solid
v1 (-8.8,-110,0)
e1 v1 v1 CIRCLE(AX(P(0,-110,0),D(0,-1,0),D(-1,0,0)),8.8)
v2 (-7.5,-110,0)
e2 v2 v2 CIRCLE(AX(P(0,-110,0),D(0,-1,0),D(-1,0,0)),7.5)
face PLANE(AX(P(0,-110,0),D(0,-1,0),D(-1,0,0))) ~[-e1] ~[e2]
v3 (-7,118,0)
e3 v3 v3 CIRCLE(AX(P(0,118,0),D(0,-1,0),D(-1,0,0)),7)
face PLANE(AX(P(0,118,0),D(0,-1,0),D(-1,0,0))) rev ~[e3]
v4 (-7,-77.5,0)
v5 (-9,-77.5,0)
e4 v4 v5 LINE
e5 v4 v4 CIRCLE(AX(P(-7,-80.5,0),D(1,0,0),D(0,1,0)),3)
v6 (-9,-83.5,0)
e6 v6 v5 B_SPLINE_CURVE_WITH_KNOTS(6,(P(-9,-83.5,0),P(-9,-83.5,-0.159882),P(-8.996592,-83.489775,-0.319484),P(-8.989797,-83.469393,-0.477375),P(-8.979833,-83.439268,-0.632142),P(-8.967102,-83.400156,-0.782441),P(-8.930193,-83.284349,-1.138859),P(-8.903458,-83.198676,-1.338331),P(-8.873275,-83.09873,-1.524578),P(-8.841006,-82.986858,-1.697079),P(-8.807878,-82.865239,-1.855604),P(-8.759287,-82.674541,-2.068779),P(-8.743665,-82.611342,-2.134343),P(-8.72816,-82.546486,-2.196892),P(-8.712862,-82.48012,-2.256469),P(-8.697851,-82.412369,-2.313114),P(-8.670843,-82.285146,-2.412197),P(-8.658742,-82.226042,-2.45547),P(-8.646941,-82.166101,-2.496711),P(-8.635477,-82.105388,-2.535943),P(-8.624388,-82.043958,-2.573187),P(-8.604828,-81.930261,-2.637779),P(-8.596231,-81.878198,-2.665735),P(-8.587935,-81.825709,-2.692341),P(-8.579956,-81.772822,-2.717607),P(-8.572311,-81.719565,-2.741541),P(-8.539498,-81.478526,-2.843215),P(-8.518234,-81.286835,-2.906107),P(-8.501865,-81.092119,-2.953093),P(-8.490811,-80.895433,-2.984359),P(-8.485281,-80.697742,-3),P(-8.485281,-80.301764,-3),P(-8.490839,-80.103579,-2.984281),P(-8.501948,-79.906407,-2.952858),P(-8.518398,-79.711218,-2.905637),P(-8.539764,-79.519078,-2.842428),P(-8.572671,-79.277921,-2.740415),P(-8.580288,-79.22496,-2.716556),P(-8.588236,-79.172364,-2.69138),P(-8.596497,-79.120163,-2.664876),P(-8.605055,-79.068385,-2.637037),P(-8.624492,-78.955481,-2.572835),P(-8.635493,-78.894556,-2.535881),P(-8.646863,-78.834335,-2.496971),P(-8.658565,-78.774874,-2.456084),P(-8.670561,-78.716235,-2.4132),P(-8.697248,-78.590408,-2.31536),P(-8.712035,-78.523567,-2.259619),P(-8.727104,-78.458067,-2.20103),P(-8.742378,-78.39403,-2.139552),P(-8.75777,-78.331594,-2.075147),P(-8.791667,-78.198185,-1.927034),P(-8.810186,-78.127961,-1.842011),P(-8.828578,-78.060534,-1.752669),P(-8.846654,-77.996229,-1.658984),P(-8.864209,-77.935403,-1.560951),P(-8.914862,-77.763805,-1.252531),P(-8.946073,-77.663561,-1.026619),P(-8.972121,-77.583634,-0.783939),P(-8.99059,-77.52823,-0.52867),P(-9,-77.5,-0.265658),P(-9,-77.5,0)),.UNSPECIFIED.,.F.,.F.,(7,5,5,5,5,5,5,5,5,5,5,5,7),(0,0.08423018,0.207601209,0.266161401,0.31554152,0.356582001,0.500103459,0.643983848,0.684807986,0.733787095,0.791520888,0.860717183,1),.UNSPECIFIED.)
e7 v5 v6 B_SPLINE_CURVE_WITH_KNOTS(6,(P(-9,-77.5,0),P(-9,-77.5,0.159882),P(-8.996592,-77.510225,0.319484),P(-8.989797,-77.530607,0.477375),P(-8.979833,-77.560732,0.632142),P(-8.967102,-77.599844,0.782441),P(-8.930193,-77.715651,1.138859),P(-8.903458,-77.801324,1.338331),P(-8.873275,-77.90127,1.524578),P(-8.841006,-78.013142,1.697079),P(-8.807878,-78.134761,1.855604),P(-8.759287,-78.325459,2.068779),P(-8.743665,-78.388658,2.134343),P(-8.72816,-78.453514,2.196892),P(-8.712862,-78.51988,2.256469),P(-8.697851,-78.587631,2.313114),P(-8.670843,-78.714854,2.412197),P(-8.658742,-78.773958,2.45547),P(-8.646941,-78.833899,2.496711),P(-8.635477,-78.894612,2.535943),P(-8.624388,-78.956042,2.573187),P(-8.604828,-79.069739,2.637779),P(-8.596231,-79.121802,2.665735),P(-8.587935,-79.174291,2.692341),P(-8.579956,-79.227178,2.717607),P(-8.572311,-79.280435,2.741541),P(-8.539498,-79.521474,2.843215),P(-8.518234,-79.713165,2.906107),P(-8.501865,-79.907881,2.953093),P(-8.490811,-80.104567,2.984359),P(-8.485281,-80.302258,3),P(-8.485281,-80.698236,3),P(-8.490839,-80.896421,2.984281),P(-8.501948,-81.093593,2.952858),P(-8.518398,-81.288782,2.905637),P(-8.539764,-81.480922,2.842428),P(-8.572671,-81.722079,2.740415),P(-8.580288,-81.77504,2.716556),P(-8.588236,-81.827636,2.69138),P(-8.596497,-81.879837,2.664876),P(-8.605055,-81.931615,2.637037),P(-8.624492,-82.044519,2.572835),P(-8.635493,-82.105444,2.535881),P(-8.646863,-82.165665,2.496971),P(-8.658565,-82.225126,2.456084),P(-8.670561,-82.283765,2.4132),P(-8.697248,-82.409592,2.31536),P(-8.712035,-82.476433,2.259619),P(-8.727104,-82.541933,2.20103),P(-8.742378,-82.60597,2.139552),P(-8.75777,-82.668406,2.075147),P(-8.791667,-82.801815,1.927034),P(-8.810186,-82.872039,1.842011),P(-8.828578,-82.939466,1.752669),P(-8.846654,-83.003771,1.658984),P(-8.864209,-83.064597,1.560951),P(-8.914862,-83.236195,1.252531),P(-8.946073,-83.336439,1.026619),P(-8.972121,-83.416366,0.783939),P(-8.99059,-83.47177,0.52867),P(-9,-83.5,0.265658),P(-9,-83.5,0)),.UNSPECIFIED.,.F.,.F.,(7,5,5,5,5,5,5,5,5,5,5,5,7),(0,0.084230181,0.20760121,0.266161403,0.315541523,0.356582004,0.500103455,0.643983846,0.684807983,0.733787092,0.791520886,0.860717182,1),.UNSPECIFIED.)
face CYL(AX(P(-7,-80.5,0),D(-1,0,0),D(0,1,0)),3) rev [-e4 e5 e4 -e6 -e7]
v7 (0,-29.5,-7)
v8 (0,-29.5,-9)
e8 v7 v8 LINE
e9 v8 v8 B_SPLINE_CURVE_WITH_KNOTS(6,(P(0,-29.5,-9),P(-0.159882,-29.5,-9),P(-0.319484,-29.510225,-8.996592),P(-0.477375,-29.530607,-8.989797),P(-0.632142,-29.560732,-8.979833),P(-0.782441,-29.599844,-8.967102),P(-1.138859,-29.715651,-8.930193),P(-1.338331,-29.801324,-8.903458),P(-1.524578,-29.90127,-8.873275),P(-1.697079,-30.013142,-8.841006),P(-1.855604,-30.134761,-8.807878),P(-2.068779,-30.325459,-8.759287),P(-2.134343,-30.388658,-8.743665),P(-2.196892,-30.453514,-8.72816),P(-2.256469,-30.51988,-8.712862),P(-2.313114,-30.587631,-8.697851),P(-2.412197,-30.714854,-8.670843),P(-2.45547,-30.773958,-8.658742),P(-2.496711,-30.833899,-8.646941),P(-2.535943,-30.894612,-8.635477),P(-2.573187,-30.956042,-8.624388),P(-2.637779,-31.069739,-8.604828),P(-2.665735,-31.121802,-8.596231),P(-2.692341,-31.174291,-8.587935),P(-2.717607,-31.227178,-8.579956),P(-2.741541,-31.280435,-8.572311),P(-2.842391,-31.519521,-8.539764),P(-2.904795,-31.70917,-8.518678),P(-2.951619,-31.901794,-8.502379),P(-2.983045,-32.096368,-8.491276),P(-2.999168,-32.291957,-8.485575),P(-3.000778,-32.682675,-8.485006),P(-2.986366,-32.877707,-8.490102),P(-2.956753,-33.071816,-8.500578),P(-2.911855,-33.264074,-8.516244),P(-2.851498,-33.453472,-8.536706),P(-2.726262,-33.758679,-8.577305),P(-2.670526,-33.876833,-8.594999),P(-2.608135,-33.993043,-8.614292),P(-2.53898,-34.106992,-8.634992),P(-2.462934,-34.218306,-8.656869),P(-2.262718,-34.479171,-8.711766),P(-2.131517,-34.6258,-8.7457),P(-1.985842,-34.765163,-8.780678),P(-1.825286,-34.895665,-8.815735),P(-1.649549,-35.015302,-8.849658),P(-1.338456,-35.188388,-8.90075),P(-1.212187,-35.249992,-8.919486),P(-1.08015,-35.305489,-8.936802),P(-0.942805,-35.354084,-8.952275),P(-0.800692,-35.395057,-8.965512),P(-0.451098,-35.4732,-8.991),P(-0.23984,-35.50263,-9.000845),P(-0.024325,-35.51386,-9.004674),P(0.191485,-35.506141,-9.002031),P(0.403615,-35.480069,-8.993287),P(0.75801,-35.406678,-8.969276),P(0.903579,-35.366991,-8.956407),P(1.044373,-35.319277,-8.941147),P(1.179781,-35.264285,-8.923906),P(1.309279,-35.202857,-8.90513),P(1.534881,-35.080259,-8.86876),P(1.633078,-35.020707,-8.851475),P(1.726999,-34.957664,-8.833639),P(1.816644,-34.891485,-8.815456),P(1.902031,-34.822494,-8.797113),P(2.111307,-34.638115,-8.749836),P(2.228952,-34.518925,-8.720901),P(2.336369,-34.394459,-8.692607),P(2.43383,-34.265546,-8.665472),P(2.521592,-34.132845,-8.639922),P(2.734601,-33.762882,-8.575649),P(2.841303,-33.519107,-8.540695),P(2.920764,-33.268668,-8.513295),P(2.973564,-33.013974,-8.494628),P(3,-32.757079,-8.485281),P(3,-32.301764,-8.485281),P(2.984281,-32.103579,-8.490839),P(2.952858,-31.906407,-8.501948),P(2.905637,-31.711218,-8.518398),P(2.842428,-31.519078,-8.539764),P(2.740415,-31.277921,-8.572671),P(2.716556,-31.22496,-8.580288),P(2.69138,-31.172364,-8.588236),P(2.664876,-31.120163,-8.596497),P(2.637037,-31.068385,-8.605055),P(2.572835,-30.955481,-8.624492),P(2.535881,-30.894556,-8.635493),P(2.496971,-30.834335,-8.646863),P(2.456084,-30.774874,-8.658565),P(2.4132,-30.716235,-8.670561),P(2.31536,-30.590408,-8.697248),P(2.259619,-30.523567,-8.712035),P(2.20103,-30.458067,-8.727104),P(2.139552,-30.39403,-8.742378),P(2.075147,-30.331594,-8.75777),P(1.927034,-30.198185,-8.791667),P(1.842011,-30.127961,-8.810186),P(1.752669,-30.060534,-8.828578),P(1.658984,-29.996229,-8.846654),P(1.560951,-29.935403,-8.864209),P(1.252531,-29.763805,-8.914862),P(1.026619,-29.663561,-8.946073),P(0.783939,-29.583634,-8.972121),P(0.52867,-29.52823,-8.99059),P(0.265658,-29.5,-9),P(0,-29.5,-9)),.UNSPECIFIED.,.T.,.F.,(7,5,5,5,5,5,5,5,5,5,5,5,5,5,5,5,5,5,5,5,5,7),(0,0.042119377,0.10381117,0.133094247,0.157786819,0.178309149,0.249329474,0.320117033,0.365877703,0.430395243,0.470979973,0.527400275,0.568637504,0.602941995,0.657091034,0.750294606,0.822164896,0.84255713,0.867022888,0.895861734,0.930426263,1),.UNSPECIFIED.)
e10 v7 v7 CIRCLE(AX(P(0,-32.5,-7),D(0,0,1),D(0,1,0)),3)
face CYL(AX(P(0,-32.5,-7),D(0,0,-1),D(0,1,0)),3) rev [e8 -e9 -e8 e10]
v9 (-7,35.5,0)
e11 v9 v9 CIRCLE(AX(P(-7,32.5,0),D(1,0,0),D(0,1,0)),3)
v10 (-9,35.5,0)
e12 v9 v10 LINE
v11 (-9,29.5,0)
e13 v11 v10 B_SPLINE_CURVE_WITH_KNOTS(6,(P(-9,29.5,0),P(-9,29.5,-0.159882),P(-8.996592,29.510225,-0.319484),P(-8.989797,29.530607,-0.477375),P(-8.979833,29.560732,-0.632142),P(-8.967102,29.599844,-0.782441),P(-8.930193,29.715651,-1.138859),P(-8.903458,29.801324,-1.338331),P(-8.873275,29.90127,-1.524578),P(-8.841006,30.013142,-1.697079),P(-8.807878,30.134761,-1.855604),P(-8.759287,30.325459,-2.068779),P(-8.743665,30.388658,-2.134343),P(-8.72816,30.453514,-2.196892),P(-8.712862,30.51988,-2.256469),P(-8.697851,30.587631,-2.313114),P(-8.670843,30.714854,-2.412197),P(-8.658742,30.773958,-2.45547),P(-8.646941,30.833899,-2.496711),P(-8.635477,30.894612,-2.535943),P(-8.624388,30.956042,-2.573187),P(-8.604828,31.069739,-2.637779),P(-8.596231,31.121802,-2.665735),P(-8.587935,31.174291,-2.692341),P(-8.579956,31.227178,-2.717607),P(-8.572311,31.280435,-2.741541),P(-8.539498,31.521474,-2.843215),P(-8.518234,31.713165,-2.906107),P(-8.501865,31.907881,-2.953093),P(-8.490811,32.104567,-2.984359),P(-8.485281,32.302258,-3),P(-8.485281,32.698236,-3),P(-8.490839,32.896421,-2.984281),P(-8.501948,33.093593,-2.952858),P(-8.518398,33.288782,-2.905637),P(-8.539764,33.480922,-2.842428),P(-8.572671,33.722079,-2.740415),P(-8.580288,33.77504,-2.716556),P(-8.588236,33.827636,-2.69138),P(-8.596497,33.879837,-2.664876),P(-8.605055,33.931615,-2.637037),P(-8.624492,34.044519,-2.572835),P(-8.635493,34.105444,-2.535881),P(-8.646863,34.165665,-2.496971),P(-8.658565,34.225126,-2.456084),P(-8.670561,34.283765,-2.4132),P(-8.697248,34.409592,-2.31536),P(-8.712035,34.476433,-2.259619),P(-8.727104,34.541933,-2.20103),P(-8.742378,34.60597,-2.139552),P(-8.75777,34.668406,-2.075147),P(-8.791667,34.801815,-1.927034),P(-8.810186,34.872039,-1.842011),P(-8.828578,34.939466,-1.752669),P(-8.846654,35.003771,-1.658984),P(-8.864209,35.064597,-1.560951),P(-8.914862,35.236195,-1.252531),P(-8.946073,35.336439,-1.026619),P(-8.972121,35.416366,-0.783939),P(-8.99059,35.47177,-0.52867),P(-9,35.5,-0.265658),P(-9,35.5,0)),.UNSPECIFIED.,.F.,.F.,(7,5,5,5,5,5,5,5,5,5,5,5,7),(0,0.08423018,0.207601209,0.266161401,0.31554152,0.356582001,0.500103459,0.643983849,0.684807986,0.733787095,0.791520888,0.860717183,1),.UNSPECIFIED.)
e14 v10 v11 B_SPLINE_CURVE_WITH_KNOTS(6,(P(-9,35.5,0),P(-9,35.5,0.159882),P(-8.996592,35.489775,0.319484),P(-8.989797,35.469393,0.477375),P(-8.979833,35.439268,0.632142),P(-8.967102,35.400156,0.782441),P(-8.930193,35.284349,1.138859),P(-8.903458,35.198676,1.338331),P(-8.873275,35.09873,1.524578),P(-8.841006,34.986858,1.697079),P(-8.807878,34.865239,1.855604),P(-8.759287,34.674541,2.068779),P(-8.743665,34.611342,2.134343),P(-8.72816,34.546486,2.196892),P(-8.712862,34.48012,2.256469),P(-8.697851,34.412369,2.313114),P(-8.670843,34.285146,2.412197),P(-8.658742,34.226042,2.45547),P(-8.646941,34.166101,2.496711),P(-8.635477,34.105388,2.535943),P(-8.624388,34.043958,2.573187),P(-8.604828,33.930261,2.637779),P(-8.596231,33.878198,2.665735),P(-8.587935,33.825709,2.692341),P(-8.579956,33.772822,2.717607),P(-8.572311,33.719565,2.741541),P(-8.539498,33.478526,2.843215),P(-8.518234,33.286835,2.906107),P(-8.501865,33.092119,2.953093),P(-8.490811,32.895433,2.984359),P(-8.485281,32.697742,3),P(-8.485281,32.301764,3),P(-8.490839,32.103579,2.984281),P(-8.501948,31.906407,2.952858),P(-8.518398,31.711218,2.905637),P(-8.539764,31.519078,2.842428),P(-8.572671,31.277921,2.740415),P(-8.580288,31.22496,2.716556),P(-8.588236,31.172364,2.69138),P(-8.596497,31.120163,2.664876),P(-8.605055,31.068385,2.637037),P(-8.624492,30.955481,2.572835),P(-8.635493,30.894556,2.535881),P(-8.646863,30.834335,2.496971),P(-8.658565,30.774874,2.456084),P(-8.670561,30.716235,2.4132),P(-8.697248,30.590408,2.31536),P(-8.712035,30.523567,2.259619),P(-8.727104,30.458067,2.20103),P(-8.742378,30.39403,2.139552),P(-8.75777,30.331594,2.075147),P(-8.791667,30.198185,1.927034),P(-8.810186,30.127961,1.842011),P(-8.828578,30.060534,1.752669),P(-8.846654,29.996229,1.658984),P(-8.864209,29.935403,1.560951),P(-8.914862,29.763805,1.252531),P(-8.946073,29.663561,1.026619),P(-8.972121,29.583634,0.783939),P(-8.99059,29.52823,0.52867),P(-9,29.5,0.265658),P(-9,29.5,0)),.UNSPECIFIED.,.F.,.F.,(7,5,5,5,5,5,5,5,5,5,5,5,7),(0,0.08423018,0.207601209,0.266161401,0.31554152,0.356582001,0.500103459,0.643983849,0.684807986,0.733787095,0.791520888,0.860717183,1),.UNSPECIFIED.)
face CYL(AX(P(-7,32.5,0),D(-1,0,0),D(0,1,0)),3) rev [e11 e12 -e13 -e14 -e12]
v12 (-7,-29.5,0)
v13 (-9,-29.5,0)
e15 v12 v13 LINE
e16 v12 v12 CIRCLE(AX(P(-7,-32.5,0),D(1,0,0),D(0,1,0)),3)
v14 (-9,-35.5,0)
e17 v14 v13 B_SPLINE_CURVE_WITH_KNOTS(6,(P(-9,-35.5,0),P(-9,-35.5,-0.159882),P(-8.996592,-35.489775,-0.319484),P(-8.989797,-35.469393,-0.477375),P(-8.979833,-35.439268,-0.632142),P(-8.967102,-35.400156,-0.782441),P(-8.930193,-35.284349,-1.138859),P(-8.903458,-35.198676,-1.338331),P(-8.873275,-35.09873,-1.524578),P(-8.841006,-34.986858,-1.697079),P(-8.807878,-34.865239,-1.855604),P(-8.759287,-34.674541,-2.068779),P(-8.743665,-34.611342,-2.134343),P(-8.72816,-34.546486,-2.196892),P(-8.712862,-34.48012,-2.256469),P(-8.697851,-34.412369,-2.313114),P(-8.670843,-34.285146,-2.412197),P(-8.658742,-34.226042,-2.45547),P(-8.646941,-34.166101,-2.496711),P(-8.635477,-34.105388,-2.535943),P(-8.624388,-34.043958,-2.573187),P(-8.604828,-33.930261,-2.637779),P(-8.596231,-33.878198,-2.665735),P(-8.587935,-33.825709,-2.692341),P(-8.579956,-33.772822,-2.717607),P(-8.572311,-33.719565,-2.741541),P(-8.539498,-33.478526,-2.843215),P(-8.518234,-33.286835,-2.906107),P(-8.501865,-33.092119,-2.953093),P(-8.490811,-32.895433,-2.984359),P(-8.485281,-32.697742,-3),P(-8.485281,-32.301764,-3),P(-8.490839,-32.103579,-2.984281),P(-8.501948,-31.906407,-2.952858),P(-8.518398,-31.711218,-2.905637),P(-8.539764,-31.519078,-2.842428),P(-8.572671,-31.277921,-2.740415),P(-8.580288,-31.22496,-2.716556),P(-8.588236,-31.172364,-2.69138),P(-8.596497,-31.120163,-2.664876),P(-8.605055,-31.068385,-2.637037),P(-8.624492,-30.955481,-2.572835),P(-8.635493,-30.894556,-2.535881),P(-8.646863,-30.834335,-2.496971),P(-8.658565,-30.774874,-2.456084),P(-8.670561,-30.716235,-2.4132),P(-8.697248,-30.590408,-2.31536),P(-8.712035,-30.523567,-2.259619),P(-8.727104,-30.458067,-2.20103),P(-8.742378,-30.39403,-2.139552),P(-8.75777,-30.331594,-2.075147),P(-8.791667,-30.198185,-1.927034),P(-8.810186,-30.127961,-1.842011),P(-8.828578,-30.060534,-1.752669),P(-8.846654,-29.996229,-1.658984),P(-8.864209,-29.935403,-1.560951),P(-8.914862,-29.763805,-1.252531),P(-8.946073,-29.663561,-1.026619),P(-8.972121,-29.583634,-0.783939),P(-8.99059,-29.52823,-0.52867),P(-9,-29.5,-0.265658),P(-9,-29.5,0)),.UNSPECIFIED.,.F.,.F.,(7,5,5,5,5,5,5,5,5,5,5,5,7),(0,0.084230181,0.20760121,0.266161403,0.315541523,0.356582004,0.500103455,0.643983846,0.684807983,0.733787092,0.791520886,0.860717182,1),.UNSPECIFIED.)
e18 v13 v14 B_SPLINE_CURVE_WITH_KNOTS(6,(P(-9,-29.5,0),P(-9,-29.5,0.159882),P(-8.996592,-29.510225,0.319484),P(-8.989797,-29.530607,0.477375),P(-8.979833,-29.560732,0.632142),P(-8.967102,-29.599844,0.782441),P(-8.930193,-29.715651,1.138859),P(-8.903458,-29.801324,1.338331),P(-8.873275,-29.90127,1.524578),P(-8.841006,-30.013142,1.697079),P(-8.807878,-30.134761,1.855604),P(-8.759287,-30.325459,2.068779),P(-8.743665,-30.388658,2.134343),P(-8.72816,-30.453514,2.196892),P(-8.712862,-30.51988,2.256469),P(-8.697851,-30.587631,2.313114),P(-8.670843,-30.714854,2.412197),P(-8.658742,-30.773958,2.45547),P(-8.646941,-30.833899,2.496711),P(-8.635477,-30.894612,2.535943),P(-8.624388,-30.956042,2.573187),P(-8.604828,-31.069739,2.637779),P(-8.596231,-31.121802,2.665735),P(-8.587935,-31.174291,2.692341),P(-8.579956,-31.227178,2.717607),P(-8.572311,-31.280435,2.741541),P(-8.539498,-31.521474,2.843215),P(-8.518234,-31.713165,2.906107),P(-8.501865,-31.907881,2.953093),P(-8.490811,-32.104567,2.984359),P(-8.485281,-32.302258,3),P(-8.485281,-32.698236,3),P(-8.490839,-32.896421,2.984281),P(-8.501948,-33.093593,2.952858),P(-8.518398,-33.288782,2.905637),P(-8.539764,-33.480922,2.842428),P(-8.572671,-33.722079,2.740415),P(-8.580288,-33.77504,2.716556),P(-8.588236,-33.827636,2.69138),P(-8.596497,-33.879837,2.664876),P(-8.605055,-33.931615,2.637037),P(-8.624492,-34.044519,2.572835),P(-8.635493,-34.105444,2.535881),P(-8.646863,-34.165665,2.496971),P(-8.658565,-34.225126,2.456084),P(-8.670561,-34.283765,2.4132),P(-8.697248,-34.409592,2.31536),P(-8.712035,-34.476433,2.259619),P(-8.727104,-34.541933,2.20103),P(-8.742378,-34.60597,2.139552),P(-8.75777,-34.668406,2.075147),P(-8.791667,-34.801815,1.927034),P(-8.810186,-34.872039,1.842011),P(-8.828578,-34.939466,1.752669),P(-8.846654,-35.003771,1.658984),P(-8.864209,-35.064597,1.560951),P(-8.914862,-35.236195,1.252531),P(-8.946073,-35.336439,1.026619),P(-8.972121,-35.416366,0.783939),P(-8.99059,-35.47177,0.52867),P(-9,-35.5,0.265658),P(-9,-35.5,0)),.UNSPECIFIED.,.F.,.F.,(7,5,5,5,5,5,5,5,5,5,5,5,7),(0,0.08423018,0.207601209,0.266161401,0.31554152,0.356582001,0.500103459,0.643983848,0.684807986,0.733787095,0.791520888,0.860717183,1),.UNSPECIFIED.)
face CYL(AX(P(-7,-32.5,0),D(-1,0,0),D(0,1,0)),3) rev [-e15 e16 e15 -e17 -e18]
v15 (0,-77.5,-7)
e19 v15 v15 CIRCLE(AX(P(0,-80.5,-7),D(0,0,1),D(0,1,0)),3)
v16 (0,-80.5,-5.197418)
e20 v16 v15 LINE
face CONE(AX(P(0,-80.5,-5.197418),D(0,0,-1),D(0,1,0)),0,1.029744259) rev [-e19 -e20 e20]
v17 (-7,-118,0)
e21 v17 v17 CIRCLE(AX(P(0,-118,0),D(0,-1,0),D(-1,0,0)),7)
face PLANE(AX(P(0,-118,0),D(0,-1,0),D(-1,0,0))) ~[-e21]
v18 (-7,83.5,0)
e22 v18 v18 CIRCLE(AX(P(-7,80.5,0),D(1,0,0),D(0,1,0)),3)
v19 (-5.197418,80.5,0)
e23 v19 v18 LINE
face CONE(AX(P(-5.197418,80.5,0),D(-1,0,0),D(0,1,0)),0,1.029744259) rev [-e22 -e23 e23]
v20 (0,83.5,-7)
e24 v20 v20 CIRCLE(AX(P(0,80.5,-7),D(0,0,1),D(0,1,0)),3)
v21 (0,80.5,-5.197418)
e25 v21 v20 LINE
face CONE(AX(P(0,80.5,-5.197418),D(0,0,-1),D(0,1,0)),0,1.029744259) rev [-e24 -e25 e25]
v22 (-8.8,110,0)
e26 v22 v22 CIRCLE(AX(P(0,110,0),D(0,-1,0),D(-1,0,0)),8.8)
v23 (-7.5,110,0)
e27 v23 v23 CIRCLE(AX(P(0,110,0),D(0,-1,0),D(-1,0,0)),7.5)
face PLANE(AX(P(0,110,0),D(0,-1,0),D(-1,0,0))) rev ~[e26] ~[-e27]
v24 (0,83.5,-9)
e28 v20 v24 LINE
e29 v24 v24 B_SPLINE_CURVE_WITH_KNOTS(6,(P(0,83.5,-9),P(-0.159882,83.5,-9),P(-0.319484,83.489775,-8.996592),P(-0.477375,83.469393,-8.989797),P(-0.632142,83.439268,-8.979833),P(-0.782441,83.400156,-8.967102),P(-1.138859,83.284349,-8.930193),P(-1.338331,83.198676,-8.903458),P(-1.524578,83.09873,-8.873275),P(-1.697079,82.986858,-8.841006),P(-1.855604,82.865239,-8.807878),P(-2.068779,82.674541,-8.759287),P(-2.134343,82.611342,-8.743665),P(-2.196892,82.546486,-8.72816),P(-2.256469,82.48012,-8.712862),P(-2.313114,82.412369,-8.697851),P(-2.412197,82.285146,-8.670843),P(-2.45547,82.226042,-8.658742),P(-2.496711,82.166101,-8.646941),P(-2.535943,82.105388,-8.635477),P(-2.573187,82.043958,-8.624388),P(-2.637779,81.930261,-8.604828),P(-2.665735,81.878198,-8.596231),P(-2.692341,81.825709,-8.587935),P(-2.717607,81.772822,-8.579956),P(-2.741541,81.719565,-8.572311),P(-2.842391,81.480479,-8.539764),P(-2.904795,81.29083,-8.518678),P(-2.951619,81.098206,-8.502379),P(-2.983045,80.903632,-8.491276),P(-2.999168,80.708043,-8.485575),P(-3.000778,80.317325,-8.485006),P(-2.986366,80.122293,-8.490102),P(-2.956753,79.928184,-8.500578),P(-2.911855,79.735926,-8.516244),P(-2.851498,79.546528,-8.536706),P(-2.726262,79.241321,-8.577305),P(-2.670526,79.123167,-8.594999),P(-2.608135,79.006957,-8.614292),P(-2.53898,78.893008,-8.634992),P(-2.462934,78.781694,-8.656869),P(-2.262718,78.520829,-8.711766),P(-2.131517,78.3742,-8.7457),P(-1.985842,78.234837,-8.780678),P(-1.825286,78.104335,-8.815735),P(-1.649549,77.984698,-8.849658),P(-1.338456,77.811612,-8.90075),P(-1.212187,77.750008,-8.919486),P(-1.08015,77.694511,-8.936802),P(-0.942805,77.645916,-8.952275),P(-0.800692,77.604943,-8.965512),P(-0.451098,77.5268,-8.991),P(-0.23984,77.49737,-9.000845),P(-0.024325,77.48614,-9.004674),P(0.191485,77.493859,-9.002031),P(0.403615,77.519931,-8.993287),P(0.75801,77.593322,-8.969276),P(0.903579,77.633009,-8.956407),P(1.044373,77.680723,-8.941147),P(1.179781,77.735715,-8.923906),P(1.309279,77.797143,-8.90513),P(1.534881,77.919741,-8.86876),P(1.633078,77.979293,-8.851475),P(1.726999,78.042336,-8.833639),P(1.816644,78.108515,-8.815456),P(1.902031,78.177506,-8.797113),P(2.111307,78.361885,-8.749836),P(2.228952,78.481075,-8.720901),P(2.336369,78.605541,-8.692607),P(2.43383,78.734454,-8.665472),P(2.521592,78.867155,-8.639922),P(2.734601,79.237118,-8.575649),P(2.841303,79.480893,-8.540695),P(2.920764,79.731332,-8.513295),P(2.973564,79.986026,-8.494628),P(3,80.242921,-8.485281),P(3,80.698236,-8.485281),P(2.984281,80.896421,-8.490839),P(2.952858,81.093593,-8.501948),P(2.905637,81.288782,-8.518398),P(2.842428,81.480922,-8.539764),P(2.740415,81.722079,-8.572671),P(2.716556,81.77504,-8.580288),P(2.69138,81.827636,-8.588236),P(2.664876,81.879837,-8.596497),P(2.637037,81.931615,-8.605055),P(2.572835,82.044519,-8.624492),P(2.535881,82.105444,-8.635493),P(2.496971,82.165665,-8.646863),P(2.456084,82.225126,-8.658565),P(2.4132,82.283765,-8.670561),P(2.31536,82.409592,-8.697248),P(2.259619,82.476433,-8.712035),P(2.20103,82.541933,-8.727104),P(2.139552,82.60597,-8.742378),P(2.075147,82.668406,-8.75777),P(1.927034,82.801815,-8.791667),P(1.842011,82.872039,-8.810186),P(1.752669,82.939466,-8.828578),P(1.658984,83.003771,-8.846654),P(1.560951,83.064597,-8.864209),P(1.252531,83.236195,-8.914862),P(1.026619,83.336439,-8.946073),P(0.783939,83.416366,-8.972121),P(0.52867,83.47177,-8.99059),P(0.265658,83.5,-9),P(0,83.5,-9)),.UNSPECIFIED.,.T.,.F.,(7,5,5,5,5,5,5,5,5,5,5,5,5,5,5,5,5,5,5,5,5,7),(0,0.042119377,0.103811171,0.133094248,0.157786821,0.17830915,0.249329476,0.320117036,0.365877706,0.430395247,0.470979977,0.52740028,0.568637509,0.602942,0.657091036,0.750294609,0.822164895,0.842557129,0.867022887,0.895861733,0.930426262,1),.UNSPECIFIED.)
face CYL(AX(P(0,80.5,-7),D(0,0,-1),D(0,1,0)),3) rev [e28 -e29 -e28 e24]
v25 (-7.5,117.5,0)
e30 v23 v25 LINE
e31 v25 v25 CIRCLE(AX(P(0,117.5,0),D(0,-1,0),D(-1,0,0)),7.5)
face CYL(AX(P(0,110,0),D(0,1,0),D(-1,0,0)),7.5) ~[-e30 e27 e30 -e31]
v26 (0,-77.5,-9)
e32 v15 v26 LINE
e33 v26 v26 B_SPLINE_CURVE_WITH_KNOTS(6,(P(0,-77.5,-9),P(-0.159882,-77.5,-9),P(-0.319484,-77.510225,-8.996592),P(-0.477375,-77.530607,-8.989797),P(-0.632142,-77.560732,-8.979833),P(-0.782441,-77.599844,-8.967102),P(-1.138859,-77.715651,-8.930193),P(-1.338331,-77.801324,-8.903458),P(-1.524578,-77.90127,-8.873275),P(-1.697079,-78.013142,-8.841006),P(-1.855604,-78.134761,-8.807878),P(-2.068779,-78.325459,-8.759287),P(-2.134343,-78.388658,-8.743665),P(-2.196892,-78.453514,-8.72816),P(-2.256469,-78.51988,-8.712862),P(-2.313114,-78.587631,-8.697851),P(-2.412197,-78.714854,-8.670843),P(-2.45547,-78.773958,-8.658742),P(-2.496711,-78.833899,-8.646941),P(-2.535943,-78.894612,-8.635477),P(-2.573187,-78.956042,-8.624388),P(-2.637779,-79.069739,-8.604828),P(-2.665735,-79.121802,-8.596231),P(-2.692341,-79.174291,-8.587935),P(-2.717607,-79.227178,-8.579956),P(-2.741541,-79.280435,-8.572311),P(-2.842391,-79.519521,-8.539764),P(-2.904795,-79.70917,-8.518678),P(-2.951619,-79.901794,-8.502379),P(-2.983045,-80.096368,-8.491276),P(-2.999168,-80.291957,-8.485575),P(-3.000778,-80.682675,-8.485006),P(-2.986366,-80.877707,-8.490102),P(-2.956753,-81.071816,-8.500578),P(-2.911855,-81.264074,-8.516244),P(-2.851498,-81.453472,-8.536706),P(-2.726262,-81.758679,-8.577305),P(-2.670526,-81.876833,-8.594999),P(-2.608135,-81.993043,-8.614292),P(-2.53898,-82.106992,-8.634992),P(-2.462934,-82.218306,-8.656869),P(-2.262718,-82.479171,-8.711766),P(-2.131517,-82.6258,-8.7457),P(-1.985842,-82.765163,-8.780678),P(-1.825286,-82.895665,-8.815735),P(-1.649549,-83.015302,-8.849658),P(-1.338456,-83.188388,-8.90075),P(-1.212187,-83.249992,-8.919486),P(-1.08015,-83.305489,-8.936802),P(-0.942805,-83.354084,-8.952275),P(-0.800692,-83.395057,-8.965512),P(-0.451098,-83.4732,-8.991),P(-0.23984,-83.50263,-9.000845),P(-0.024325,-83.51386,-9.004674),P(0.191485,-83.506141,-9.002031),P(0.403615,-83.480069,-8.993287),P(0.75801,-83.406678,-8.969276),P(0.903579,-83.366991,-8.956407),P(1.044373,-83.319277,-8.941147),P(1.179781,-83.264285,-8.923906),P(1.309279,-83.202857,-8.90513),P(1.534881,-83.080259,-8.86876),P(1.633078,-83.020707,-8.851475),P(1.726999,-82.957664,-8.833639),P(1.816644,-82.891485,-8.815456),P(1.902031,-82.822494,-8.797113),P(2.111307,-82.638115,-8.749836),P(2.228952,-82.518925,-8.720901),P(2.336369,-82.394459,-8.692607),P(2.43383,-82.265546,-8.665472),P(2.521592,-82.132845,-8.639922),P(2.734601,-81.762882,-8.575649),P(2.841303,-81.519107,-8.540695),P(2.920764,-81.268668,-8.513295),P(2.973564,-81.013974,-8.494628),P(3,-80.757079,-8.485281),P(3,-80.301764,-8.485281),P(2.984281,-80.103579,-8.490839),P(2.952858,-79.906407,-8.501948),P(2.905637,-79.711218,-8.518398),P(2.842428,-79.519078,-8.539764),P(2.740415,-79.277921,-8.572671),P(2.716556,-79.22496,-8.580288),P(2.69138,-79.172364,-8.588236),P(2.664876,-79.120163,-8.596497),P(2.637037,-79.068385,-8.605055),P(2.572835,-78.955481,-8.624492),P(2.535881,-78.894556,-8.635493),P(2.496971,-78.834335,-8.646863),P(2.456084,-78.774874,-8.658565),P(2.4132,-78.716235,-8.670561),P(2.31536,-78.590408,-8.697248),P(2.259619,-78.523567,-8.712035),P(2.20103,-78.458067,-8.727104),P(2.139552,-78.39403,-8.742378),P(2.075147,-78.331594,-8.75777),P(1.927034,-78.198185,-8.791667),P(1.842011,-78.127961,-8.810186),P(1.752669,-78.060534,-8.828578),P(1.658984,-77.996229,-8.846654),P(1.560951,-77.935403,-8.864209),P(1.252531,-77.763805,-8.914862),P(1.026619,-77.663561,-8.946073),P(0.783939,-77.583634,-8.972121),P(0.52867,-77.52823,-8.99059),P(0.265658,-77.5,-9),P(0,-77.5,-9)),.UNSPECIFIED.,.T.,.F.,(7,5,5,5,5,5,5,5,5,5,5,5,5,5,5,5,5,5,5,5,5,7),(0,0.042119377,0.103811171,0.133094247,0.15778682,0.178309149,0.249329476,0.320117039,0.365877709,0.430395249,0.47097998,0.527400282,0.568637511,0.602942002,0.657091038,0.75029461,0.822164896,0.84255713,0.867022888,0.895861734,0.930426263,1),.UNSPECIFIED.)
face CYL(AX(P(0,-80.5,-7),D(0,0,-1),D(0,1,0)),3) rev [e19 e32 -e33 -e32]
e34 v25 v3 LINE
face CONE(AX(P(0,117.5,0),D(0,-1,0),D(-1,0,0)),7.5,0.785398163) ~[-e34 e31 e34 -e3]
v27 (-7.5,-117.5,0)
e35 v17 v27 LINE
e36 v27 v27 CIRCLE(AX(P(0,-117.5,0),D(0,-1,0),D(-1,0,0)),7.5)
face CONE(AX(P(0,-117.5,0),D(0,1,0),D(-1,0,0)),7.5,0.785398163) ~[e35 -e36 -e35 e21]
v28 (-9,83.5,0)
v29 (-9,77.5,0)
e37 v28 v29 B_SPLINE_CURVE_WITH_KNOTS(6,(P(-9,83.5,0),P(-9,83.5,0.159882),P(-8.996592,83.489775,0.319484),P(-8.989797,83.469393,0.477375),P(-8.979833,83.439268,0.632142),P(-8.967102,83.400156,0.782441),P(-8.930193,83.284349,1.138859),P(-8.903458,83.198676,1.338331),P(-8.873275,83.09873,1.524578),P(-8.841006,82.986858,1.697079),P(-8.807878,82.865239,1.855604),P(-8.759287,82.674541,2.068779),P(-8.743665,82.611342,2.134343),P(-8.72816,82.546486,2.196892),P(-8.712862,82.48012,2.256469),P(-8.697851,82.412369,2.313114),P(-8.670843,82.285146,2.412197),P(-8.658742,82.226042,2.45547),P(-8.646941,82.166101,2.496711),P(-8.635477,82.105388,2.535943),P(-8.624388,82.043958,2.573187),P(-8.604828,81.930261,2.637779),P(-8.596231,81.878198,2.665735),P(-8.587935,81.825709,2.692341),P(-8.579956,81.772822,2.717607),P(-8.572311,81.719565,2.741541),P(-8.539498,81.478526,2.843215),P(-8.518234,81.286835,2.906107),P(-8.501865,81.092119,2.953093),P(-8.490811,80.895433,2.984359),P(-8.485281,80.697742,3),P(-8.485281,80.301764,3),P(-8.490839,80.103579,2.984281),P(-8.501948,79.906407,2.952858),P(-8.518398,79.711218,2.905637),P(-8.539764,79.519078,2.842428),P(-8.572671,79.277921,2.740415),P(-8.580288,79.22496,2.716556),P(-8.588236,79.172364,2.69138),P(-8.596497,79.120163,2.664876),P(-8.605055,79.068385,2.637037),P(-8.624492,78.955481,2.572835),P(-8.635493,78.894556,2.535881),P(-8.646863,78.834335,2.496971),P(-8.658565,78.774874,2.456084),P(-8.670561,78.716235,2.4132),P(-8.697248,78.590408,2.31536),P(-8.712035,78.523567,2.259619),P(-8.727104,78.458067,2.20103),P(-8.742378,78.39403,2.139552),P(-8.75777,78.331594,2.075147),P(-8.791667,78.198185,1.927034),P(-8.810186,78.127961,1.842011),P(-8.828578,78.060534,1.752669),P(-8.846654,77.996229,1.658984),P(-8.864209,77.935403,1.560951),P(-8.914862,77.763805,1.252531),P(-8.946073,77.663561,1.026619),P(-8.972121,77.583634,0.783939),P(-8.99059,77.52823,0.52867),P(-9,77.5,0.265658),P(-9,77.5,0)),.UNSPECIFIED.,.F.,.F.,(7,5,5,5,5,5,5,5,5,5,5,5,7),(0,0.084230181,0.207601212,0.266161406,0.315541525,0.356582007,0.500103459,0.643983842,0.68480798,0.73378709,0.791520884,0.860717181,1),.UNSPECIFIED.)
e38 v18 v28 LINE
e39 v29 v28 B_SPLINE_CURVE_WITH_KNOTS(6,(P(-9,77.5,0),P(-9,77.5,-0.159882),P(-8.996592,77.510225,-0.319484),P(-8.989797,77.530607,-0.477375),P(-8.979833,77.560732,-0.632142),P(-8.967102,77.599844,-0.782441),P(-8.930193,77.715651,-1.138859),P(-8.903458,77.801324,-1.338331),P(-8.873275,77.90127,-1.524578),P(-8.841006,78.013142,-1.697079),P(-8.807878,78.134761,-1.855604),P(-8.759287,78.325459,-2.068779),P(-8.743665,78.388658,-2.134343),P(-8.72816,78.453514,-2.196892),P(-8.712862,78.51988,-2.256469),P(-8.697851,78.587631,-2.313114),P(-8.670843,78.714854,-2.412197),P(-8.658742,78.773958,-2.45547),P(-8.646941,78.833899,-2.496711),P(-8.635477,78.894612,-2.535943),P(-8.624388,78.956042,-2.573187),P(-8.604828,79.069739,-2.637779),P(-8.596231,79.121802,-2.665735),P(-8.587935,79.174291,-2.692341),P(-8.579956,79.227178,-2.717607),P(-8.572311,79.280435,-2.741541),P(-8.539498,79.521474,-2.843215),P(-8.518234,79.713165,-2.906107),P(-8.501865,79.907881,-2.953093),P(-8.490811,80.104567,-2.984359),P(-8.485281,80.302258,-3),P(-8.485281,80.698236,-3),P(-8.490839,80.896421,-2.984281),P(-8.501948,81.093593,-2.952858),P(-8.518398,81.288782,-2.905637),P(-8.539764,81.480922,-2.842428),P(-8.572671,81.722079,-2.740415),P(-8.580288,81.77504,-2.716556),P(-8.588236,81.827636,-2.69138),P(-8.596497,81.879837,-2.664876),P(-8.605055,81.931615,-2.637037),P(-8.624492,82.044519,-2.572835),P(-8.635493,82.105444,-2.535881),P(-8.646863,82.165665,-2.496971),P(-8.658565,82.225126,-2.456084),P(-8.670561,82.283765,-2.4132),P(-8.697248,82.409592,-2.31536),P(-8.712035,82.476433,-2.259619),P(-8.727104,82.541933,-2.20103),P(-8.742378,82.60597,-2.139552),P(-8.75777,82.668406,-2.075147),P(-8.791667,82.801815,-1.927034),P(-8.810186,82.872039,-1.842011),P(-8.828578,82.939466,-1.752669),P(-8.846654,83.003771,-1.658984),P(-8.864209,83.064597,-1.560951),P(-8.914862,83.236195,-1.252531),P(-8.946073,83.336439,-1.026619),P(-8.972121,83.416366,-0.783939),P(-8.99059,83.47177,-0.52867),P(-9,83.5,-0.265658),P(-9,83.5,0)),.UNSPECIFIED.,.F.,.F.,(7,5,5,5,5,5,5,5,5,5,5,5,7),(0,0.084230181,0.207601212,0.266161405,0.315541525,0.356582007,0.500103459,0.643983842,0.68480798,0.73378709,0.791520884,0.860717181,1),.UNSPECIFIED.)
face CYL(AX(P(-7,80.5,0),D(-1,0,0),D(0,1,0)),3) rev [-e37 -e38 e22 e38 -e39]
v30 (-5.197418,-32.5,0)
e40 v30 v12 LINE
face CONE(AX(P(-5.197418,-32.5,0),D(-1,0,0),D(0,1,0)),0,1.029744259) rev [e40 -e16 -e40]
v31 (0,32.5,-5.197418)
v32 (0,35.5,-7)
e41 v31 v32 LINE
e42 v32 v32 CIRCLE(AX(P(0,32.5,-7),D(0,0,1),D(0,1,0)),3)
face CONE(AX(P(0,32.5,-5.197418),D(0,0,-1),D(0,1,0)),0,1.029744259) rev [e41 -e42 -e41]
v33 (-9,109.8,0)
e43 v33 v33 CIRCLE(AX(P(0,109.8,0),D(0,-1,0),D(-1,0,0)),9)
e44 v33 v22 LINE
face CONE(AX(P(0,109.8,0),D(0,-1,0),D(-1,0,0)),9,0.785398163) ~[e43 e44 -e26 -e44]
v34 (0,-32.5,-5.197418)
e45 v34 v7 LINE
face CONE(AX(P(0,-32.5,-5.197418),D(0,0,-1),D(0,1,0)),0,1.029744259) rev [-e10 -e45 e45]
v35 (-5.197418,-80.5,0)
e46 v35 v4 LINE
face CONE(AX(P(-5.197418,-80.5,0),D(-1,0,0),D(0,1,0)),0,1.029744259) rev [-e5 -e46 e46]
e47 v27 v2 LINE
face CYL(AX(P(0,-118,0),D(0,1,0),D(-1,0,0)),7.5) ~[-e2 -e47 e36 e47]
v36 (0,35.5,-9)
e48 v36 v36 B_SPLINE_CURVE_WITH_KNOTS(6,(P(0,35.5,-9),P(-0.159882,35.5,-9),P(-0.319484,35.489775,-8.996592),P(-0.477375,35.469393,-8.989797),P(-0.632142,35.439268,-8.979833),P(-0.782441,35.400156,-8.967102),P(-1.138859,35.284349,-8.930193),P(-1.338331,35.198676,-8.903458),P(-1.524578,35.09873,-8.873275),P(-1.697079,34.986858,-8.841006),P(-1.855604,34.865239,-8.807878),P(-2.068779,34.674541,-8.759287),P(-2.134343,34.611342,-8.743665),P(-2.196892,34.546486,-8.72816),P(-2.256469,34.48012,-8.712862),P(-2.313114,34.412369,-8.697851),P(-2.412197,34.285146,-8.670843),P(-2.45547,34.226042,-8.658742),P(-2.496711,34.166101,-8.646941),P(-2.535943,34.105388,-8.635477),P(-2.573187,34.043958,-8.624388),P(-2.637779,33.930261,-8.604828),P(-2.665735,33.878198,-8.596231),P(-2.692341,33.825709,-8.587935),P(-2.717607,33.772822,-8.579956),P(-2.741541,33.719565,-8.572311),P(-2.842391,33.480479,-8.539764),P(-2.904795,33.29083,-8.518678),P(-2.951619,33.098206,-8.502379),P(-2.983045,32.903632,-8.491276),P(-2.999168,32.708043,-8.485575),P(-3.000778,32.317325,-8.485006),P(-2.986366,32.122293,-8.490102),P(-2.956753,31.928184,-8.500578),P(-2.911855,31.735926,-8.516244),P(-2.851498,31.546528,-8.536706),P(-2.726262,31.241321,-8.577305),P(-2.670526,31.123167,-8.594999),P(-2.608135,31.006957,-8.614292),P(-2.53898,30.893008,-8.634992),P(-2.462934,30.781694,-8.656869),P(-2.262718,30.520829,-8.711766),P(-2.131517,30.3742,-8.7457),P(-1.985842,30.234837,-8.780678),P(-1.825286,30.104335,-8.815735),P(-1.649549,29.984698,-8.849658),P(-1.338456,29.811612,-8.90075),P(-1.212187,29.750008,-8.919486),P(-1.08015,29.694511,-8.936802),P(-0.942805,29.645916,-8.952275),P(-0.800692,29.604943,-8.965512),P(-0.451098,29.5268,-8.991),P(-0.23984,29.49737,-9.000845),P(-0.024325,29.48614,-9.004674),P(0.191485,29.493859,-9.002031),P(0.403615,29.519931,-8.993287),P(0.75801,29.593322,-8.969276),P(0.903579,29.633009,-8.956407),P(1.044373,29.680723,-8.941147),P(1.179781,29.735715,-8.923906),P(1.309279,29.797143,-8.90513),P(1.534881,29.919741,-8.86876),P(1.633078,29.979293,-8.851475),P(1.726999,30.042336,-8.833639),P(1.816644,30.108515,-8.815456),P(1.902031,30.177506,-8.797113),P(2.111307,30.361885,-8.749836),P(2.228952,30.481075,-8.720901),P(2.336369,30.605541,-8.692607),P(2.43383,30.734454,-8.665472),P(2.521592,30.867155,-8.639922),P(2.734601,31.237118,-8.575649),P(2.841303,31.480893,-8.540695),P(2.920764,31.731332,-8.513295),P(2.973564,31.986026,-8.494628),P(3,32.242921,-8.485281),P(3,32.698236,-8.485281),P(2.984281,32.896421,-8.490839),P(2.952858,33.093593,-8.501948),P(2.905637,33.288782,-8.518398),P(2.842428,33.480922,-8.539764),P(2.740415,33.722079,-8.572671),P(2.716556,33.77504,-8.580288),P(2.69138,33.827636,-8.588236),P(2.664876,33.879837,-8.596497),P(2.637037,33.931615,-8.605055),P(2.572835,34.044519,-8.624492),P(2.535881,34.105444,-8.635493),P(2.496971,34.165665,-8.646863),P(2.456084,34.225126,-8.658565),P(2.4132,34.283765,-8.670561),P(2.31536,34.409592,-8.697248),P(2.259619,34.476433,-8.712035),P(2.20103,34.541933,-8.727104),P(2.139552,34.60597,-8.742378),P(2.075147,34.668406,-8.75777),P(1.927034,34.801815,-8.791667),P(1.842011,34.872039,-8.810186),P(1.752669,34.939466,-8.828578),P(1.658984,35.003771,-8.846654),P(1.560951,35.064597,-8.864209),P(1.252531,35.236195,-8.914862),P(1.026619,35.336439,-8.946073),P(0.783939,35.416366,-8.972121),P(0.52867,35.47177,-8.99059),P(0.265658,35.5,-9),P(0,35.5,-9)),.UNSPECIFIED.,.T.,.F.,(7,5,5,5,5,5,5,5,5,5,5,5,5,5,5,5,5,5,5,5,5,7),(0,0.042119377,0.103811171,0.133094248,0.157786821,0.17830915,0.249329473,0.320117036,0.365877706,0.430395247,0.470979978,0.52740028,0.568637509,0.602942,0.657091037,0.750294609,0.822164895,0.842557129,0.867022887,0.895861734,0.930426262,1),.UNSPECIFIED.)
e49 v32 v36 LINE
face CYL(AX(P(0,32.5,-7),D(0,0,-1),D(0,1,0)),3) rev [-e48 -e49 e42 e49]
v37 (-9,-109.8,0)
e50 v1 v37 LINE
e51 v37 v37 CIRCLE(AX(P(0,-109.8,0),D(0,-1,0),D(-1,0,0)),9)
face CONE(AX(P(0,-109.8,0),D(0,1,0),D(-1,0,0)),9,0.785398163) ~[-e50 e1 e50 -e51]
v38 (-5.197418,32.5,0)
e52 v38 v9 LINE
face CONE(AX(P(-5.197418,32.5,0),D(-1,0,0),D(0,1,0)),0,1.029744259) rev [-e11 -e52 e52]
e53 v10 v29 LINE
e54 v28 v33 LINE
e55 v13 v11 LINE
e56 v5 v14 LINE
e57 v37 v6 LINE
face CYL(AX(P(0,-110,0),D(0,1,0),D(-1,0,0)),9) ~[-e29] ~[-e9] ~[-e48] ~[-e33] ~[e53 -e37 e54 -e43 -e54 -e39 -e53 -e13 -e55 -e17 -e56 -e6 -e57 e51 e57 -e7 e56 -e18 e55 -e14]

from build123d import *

# Parameters (mm, degrees)
CHAMFER_1_SIZE                 = 0.5
HOLE_WIZARD_6_0_6_4_AT_2_COUNT = 2
HOLE_WIZARD_6_0_6_4_AT_2_PITCH = 65
HOLE_WIZARD_6_0_6_4_AT_3_COUNT = 2
HOLE_WIZARD_6_0_6_4_AT_3_PITCH = 113
HOLE_WIZARD_6_0_6_4_AT_4_COUNT = 2
HOLE_WIZARD_6_0_6_4_AT_4_PITCH = 48
PATTERN_CIRCULAR_1_COUNT       = 4
CHAMFER_2_SIZE                 = 0.2


with BuildPart() as part:
    # 草图1 → 旋转1 (revolve)
    with BuildSketch(Plane.XY):
        Polygon((0, 118), (0, -118), (-7.5, -118), (-7.5, -110), (-9, -110), (-9, 110), (-7.5, 110), (-7.5, 118), align=None)
    revolve(axis=Axis((0, 118, 0), (0, -1, 0)))

    # 倒角1
    chamfer_1_edges = [part.edges().sort_by_distance(p)[0] for p in [
        (7.5, 118, 0),
        (7.5, -118, 0),
    ]]
    chamfer(chamfer_1_edges, length=CHAMFER_1_SIZE)

    # 草图3 → Ø6.0 (6) 直径孔4 (revolve, cut)
    with BuildSketch(Plane(origin=(0, -32.5, -9), x_dir=(0, 1, 0), z_dir=(1, 0, 0))):
        Polygon((0, 0), (0, 3.802581857), (3, 2), (3, 0), align=None)
    hole_wizard_6_0_6_4 = revolve(axis=Axis((0, -32.5, -15.35), (0, 0, 1)), mode=Mode.SUBTRACT)

    # Ø6.0 (6) 直径孔4 at 2: Ø6.0 (6) 直径孔4 ×2
    with Locations(*[(0, i * HOLE_WIZARD_6_0_6_4_AT_2_PITCH, 0) for i in range(1, HOLE_WIZARD_6_0_6_4_AT_2_COUNT)]):
        add(hole_wizard_6_0_6_4, mode=Mode.SUBTRACT)

    # Ø6.0 (6) 直径孔4 at 3: Ø6.0 (6) 直径孔4 ×2
    with Locations(*[(0, i * HOLE_WIZARD_6_0_6_4_AT_3_PITCH, 0) for i in range(1, HOLE_WIZARD_6_0_6_4_AT_3_COUNT)]):
        add(hole_wizard_6_0_6_4, mode=Mode.SUBTRACT)

    # Ø6.0 (6) 直径孔4 at 4: Ø6.0 (6) 直径孔4 ×2
    with Locations(*[(0, -i * HOLE_WIZARD_6_0_6_4_AT_4_PITCH, 0) for i in range(1, HOLE_WIZARD_6_0_6_4_AT_4_COUNT)]):
        add(hole_wizard_6_0_6_4, mode=Mode.SUBTRACT)

    # 阵列(圆周)1: Ø6.0 (6) 直径孔4 ×4 about axis, 2 skipped
    pattern_circular_1_axis = Axis((0, 118, 0), (0, 1, 0))
    add([hole_wizard_6_0_6_4.rotate(pattern_circular_1_axis, i * 360 / PATTERN_CIRCULAR_1_COUNT) for i in range(1, PATTERN_CIRCULAR_1_COUNT) if i not in (2, 3)], mode=Mode.SUBTRACT)

    # 阵列(圆周)1 copy 1 sketch → 阵列(圆周)1 copy 1 (revolve, cut)
    with BuildSketch(Plane(origin=(-9, 32.5, 0), x_dir=(0, 1, 0), z_dir=(0, 0, -1))):
        Polygon((0, 0), (0, 3.802581857), (3, 2), (3, 0), align=None)
    revolve(axis=Axis((-15.35, 32.5, 0), (1, 0, 0)), mode=Mode.SUBTRACT)

    # 阵列(圆周)1 copy 2 sketch → 阵列(圆周)1 copy 2 (revolve, cut)
    with BuildSketch(Plane(origin=(-9, 80.5, 0), x_dir=(0, 1, 0), z_dir=(0, 0, -1))):
        Polygon((0, 0), (0, 3.802581857), (3, 2), (3, 0), align=None)
    revolve(axis=Axis((-15.35, 80.5, 0), (1, 0, 0)), mode=Mode.SUBTRACT)

    # 阵列(圆周)1 copy 3 sketch → 阵列(圆周)1 copy 3 (revolve, cut)
    with BuildSketch(Plane(origin=(-9, -80.5, 0), x_dir=(0, 1, 0), z_dir=(0, 0, -1))):
        Polygon((0, 0), (0, 3.802581857), (3, 2), (3, 0), align=None)
    revolve(axis=Axis((-15.35, -80.5, 0), (1, 0, 0)), mode=Mode.SUBTRACT)

    # 倒角2
    chamfer_2_edges = [part.edges().sort_by_distance(p)[0] for p in [
        (9, 110, 0),
        (9, -110, 0),
    ]]
    chamfer(chamfer_2_edges, length=CHAMFER_2_SIZE)


solid = part.part
